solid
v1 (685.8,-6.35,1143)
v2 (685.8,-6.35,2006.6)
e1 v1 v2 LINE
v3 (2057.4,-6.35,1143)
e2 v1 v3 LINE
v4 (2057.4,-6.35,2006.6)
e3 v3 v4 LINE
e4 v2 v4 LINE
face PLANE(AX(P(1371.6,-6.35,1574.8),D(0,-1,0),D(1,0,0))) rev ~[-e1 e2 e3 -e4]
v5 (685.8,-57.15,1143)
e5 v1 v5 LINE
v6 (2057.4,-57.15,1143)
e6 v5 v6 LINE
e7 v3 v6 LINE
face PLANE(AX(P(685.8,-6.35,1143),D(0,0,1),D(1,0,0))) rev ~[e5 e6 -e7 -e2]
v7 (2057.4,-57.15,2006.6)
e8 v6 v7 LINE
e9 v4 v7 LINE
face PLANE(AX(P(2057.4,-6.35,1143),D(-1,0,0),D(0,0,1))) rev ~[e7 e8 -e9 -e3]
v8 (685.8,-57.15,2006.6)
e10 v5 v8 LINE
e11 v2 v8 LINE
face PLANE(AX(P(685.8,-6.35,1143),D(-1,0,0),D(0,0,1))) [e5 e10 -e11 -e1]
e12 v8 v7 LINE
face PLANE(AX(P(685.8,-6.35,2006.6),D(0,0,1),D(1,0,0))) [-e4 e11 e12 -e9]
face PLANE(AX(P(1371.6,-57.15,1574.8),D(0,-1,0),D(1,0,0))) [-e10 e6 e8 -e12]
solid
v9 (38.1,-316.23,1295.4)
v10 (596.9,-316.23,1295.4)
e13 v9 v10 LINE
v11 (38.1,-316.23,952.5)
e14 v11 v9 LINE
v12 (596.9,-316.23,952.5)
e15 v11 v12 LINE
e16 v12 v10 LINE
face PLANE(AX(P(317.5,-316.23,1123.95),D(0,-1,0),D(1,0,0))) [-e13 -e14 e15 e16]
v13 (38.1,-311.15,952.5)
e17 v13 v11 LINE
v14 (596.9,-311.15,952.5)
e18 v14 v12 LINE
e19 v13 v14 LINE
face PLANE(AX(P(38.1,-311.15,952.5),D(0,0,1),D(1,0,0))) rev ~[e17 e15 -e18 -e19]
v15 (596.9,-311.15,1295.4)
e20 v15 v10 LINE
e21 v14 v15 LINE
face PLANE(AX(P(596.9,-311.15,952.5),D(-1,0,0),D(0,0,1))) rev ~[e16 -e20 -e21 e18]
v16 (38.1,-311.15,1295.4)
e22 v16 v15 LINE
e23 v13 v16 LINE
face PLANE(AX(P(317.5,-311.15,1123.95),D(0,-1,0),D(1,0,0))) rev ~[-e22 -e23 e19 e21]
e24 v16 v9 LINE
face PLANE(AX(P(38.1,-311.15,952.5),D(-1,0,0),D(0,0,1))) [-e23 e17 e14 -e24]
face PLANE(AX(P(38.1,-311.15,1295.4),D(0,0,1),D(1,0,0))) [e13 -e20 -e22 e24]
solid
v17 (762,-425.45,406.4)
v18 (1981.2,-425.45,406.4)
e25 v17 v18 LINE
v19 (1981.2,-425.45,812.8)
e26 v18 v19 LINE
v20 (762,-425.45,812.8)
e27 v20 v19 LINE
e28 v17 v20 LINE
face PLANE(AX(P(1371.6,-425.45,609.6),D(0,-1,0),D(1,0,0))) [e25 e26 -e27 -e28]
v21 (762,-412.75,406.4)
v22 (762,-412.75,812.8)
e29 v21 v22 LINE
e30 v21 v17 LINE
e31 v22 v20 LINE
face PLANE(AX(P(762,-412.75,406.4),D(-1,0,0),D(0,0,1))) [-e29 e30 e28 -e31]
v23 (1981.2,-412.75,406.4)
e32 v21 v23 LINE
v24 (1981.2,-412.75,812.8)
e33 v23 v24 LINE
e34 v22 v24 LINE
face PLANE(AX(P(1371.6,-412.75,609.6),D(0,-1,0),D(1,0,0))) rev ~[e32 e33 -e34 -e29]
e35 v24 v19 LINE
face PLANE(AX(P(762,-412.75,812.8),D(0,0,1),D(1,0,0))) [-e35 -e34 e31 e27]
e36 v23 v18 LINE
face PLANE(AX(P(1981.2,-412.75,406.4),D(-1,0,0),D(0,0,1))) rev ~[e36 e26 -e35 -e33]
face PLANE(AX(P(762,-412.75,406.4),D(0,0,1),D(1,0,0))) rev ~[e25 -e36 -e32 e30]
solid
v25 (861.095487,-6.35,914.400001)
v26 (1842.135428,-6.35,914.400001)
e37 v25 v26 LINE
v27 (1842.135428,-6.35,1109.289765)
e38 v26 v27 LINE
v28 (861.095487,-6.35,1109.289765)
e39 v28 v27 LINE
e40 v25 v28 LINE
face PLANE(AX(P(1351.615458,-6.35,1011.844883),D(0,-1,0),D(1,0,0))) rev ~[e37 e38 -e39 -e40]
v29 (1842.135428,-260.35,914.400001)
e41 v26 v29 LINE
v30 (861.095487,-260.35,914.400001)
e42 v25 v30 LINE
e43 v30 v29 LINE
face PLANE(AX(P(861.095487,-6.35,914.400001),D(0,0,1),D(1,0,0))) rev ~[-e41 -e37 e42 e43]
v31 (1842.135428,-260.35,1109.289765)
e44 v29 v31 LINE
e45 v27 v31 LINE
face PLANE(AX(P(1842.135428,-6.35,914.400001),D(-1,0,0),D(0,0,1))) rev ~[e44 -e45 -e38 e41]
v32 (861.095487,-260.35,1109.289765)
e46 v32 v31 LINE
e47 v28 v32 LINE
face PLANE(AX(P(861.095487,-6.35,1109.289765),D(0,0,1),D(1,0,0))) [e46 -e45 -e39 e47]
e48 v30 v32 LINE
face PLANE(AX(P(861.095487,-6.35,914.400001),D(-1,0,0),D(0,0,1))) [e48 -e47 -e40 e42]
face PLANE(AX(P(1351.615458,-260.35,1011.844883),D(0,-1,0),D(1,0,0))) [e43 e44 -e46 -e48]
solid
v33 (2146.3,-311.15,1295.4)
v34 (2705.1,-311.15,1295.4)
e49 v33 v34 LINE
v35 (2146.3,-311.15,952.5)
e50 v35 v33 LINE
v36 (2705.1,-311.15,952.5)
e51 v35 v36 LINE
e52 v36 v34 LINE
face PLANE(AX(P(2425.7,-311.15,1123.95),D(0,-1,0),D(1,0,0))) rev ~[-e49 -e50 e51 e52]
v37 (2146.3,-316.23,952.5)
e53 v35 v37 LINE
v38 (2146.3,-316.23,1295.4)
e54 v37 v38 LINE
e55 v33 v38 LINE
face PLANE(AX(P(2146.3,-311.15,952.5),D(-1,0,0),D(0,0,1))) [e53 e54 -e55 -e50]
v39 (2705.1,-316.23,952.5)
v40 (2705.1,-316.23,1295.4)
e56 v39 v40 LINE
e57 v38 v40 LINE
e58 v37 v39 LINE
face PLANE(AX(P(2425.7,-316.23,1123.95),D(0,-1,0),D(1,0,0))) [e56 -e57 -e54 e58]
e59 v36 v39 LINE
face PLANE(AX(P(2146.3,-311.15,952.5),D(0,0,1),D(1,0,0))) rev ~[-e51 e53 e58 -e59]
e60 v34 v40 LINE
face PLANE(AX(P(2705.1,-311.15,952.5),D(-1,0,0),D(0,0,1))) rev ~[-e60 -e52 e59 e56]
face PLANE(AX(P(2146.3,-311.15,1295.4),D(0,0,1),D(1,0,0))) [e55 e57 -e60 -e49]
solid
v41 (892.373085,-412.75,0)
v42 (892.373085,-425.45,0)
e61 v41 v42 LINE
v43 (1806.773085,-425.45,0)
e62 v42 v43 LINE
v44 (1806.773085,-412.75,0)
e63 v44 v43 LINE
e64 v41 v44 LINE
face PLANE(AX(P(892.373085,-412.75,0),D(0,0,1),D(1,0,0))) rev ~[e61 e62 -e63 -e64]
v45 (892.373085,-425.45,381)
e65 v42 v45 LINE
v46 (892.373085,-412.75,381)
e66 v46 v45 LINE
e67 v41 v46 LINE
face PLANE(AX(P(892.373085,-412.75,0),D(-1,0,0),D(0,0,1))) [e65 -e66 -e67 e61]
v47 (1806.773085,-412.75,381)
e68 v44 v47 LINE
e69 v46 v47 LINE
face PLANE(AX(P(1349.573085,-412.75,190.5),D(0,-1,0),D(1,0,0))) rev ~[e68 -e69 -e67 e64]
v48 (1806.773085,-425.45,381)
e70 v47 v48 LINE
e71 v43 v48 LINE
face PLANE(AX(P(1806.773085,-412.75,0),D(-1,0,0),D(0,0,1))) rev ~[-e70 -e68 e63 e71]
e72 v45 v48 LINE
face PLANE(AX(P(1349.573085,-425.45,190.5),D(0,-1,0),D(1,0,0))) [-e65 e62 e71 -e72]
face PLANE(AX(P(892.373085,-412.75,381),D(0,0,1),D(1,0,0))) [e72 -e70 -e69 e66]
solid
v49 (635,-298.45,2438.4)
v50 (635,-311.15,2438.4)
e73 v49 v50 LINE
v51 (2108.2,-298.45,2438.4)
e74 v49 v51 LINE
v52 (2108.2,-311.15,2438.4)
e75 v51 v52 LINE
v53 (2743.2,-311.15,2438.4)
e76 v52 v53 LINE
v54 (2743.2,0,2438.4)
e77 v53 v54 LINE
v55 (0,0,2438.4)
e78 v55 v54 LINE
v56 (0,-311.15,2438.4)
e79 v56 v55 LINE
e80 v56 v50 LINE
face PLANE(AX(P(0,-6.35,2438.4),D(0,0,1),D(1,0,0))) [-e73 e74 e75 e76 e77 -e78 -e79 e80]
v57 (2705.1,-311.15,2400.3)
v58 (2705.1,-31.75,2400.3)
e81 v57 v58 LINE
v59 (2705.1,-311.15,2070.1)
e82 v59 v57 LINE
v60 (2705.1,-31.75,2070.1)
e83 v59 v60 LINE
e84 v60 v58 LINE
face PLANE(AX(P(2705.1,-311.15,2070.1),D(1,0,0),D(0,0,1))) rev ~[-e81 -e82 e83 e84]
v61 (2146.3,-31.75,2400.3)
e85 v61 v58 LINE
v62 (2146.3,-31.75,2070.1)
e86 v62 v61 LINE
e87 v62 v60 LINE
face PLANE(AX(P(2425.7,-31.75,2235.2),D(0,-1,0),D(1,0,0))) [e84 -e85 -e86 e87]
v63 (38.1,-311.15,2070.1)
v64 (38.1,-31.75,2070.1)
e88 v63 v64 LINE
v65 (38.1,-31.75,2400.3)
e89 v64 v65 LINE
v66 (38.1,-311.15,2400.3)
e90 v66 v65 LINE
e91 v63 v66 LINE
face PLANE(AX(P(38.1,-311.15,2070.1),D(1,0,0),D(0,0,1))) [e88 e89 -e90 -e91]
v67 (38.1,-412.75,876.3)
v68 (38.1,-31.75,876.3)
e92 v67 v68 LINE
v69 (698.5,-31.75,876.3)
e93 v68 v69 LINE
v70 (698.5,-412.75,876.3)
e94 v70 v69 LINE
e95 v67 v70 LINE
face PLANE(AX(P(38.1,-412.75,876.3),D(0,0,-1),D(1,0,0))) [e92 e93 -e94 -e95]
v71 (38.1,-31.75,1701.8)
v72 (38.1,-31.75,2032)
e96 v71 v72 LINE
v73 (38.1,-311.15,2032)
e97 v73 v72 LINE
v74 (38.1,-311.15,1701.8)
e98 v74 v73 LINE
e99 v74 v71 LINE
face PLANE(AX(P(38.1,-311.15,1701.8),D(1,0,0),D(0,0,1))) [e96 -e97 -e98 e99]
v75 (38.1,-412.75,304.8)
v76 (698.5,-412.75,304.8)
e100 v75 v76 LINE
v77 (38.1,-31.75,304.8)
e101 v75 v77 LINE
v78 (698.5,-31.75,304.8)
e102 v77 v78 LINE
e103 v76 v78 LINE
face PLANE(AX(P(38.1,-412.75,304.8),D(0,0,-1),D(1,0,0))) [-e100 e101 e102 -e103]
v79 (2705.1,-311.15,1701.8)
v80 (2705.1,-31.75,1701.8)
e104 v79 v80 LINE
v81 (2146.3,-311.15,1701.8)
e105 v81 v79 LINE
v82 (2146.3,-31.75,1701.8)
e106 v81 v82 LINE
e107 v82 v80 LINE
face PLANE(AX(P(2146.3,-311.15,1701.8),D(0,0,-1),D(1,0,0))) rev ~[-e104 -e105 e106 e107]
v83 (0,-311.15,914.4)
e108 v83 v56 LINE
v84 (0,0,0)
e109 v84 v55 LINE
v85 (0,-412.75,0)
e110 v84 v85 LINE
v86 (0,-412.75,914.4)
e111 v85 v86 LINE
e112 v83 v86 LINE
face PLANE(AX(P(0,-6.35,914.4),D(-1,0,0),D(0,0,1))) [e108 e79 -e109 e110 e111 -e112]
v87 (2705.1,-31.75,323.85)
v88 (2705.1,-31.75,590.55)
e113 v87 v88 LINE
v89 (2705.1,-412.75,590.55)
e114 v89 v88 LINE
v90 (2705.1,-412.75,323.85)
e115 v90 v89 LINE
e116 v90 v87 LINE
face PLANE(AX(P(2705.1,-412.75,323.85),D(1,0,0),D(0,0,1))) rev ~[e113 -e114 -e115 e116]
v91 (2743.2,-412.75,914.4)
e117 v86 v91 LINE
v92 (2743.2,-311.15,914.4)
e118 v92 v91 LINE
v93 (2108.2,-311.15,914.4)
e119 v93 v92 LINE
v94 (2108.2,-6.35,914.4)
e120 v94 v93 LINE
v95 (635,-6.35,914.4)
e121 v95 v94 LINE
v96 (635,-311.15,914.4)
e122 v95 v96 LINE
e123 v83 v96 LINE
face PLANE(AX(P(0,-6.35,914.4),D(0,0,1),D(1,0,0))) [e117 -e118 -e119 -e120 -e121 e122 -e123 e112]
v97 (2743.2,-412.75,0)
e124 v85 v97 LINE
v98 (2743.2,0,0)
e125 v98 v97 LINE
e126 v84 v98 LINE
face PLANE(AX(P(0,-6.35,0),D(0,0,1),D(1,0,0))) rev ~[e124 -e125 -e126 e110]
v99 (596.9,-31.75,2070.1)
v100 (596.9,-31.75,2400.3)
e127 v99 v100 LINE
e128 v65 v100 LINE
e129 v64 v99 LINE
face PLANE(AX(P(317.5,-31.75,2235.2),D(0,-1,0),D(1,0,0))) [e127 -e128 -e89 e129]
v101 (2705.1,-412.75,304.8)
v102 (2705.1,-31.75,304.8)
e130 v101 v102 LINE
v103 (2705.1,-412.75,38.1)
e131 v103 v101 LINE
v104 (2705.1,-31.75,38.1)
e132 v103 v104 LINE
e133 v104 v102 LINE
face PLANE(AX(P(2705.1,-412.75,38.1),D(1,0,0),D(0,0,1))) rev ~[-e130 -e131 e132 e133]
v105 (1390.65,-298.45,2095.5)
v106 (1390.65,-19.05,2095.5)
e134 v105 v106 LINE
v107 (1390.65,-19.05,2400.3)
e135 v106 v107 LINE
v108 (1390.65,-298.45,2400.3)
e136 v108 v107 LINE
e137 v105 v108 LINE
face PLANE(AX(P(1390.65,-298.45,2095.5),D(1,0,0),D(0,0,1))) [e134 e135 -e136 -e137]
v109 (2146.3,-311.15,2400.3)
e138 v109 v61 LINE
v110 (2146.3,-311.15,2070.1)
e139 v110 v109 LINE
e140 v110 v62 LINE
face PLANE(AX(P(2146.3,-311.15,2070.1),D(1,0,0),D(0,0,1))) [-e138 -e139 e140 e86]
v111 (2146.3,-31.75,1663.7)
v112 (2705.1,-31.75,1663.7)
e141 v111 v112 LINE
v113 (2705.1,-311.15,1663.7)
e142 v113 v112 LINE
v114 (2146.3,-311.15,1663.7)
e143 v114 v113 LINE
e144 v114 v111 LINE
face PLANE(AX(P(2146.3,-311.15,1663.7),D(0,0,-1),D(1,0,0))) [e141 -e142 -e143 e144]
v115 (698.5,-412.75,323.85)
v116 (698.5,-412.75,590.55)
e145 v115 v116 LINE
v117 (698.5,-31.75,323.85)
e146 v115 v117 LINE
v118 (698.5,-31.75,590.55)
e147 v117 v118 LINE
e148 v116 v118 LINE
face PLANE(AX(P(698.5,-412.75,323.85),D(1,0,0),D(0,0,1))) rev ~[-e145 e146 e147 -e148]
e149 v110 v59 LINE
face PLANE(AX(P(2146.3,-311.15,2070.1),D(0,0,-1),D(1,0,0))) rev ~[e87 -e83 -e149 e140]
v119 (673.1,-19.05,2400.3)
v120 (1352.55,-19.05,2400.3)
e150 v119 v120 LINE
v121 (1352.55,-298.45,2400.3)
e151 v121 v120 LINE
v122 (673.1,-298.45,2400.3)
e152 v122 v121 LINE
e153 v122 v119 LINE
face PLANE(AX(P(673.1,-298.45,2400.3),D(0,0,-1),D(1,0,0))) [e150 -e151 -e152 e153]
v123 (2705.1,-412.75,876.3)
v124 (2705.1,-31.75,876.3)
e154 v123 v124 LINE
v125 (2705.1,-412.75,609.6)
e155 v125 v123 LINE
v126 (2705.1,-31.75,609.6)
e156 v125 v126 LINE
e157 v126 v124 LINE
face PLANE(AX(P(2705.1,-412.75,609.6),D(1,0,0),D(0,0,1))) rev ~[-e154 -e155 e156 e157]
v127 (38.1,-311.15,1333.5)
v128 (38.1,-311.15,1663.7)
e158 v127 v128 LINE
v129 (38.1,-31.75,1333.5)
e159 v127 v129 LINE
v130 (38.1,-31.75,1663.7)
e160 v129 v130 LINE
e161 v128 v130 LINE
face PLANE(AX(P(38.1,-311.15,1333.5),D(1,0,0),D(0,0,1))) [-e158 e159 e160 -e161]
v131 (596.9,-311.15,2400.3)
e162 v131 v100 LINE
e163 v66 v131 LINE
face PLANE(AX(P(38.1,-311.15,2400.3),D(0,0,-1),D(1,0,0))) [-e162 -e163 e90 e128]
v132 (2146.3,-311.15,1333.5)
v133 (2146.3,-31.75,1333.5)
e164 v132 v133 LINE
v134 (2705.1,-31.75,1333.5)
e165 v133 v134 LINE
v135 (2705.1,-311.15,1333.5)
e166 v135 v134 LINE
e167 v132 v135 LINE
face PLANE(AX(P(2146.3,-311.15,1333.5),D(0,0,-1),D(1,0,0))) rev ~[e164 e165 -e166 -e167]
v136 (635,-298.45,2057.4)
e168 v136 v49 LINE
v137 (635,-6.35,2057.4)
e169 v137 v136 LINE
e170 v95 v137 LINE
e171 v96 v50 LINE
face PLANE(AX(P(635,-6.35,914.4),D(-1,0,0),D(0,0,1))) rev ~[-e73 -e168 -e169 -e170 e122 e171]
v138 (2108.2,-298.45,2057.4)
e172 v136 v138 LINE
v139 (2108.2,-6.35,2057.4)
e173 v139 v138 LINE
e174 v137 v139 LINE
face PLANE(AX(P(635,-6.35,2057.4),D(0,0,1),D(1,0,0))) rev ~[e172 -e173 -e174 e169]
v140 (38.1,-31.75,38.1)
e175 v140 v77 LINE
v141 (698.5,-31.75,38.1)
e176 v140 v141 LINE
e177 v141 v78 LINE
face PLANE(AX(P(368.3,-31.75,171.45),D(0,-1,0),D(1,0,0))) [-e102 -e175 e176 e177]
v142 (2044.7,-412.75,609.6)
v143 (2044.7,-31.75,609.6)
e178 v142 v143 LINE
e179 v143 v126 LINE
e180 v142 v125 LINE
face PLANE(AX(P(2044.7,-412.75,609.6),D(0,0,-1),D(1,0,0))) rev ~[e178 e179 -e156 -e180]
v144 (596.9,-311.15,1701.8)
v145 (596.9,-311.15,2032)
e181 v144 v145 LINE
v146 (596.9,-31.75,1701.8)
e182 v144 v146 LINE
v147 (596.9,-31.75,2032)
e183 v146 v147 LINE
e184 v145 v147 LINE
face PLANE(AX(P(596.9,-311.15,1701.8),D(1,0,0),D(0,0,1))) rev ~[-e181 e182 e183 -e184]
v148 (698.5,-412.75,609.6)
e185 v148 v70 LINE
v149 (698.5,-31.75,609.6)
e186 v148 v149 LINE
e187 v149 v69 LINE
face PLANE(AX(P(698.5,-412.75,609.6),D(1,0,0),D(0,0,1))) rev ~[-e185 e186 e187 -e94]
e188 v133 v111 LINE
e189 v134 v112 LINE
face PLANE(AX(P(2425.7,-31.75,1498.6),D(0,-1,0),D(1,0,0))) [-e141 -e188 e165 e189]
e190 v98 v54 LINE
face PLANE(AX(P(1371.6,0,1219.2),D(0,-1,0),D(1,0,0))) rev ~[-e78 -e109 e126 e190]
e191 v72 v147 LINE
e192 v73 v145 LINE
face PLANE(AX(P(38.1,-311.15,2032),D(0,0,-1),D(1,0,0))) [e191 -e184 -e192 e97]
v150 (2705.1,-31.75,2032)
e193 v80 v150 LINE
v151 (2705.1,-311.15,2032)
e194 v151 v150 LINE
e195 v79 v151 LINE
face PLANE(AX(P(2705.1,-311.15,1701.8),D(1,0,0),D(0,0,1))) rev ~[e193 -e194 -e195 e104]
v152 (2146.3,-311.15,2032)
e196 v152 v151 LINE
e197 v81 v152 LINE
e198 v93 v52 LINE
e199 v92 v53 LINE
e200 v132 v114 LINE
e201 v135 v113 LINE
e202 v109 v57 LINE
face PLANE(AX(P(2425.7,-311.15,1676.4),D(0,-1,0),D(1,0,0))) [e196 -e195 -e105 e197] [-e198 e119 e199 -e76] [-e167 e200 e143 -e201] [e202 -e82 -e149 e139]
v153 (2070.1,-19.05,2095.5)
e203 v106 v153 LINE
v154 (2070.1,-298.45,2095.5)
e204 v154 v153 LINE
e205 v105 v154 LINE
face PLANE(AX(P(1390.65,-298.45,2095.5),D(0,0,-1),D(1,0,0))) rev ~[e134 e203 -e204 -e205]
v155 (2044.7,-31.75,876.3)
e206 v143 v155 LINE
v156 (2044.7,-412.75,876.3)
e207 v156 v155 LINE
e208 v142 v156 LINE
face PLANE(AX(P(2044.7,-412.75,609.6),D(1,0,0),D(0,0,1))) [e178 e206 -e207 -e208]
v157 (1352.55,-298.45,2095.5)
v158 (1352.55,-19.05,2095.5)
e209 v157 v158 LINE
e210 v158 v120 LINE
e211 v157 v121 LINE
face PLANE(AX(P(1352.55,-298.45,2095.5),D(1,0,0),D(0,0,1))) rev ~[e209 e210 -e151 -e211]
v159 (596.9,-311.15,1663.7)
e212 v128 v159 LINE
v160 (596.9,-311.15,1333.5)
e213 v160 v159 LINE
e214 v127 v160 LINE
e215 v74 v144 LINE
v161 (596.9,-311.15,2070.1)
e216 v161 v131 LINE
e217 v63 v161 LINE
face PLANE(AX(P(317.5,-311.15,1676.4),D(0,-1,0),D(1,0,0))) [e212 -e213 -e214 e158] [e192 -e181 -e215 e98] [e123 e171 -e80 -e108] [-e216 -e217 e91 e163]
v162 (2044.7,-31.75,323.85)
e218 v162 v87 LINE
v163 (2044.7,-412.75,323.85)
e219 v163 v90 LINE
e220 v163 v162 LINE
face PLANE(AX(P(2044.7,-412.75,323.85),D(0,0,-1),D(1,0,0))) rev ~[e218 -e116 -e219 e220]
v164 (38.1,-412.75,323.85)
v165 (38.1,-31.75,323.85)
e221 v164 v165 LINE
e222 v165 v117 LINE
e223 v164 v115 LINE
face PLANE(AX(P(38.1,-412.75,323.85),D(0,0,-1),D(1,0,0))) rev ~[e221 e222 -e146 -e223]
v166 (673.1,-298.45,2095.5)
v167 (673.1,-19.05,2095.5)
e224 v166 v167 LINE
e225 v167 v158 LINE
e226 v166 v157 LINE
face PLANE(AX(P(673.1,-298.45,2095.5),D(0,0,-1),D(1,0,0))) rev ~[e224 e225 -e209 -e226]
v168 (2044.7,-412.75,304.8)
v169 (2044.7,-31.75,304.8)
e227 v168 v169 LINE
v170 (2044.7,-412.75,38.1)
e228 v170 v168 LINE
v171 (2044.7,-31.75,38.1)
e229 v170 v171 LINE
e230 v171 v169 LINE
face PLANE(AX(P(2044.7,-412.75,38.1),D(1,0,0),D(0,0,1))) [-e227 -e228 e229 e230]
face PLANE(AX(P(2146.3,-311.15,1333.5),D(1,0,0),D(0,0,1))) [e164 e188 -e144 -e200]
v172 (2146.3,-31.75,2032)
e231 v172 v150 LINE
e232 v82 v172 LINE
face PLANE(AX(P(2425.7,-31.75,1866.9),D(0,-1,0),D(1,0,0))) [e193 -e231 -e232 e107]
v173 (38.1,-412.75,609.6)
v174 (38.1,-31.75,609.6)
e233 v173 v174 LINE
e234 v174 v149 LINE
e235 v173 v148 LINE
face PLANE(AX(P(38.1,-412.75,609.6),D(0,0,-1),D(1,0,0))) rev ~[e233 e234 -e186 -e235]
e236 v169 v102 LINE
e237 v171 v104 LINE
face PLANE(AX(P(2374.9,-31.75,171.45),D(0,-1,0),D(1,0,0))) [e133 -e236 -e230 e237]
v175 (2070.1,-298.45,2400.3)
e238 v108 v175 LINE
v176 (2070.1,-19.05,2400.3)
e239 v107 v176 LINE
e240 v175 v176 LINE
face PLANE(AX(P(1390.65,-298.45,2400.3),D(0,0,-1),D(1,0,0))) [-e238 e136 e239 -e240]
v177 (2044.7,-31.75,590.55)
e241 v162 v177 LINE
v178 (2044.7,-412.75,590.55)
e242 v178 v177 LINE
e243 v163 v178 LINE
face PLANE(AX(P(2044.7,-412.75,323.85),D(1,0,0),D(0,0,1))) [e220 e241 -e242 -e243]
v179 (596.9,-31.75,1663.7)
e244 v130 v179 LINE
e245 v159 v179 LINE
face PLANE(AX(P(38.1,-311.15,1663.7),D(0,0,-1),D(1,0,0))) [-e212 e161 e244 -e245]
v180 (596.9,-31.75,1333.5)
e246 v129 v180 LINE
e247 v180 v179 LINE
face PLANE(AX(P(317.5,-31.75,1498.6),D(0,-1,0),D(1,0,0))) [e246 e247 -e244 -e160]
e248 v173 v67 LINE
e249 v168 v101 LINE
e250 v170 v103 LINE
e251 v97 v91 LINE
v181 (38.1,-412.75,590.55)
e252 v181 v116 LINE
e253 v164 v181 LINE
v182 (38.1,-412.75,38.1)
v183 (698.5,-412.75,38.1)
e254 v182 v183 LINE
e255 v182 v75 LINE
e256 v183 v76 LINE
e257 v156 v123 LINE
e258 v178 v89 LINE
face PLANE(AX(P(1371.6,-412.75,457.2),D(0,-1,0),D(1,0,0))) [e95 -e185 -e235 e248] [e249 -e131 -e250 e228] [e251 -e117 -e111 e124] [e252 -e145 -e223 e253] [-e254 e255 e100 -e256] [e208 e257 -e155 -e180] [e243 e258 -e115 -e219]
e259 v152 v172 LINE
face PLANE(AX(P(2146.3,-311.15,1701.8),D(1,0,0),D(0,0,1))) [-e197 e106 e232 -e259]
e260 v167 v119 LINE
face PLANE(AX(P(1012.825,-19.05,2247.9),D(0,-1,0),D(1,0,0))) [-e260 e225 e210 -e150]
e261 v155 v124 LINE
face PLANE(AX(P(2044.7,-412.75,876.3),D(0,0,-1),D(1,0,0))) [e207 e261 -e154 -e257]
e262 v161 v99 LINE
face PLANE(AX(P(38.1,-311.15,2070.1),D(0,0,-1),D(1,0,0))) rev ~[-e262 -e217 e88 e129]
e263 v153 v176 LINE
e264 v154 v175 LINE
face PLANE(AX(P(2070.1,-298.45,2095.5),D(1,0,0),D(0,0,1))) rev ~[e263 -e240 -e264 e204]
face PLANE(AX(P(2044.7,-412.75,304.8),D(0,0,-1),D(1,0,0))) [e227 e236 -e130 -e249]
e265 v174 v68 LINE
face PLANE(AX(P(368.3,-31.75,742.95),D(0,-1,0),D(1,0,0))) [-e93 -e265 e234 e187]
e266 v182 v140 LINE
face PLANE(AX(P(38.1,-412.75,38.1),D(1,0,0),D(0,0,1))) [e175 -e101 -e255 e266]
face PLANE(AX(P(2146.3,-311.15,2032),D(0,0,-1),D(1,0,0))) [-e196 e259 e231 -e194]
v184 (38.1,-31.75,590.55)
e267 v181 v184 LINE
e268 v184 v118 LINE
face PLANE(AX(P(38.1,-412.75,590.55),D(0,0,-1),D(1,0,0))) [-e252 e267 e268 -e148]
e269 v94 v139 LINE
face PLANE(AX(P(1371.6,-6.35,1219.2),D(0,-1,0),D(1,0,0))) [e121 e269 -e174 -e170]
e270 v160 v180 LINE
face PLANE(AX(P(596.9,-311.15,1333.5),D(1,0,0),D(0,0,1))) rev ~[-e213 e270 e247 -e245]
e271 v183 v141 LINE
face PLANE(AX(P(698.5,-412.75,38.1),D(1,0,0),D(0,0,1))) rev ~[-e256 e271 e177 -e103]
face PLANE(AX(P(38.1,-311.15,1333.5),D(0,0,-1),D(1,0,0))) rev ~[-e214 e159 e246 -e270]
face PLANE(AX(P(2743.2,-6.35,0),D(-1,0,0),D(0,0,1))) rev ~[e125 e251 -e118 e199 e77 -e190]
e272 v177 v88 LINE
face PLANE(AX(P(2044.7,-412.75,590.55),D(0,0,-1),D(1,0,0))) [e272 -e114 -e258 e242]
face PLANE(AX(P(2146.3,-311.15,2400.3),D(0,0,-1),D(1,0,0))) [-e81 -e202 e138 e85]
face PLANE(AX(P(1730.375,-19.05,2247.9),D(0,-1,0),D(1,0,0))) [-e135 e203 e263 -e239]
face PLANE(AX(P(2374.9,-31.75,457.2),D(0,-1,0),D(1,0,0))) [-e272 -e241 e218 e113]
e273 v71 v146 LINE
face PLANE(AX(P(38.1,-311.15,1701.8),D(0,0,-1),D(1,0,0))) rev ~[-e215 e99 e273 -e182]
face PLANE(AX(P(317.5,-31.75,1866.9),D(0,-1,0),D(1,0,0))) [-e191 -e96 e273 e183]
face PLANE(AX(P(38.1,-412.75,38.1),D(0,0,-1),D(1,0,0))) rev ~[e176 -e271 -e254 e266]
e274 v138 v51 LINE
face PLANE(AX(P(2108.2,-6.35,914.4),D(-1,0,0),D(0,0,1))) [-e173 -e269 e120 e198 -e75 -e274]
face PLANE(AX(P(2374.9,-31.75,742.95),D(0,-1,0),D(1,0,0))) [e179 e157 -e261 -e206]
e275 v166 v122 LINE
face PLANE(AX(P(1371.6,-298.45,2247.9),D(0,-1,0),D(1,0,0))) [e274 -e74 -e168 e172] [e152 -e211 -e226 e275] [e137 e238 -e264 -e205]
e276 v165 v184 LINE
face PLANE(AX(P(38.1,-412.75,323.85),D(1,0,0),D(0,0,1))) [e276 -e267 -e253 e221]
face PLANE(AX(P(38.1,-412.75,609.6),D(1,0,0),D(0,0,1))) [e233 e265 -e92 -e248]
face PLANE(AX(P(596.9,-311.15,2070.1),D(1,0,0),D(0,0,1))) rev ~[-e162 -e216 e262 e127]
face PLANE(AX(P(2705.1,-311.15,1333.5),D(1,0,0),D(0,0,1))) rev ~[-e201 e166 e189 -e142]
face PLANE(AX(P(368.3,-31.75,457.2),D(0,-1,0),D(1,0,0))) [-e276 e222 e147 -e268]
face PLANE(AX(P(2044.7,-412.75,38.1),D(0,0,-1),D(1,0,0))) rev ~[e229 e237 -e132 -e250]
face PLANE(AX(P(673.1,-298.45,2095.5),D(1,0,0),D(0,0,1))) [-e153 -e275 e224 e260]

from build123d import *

# Parameters (mm, degrees)
F0_W      = 2743.2
F0_H      = 2438.4
F1_DEPTH  = 6.35
F2_W      = 2743.2
F2_H      = 914.4
F3_DEPTH  = 406.4
F4_W      = 635
F4_H      = 1524
F5_DEPTH  = 304.8
F6_W      = 1473.2
F6_H      = 381
F7_DEPTH  = 292.1
F8_W      = 558.8
F8_H      = 330.2
F9_DEPTH  = 279.4
F10_W     = 679.45
F10_H     = 304.8
F11_DEPTH = 279.4
F12_W     = 1371.6
F12_H     = 863.6
F13_DEPTH = 50.8
F14_W     = 558.8
F14_H     = 342.9
F15_DEPTH = 5.08
F17_W     = 981.039941
F17_H     = 194.889765
F18_DEPTH = 254
F16_W     = 1219.2
F16_H     = 406.4
F19_DEPTH = 12.7
F20_W     = 914.4
F20_H     = 381
F21_DEPTH = 12.7
F22_W     = 660.4
F22_H     = 266.7
F23_DEPTH = 381


with BuildPart() as f1:
    # F0 (on Front) → F1 (new body)
    with BuildSketch(Plane.XZ):
        with Locations((1371.6, 1219.2)):
            Rectangle(F0_W, F0_H)
    extrude(amount=F1_DEPTH)

    # F2 (on face) → F3 (join)
    with BuildSketch(Plane.XZ.offset(6.35)):
        with Locations((1371.6, 457.2)):
            Rectangle(F2_W, F2_H)
    extrude(amount=F3_DEPTH)

    # F4 (on face) → F5 (join)
    with BuildSketch(Plane.XZ.offset(6.35)):
        with Locations((317.5, 1676.4)):
            Rectangle(F4_W, F4_H)
        with Locations((2425.7, 1676.4)):
            Rectangle(F4_W, F4_H)
    extrude(amount=F5_DEPTH)

    # F6 (on face) → F7 (join)
    with BuildSketch(Plane.XZ.offset(6.35)):
        with Locations((1371.6, 2247.9)):
            Rectangle(F6_W, F6_H)
    extrude(amount=F7_DEPTH)

    # F8 (on face) → F9 (cut)
    with BuildSketch(Plane.XZ.offset(311.15)):
        with Locations((317.5, 2235.2)):
            Rectangle(F8_W, F8_H)
        with Locations((317.5, 1866.9)):
            Rectangle(F8_W, F8_H)
        with Locations((317.5, 1498.6)):
            Rectangle(F8_W, F8_H)
        with Locations((2425.7, 1866.9)):
            Rectangle(F8_W, F8_H)
        with Locations((2425.7, 2235.2)):
            Rectangle(F8_W, F8_H)
        with Locations((2425.7, 1498.6)):
            Rectangle(F8_W, F8_H)
    extrude(amount=-F9_DEPTH, mode=Mode.SUBTRACT)

    # F10 (on face) → F11 (cut)
    with BuildSketch(Plane.XZ.offset(298.45)):
        with Locations((1012.825, 2247.9)):
            Rectangle(F10_W, F10_H)
        with Locations((1730.375, 2247.9)):
            Rectangle(F10_W, F10_H)
    extrude(amount=-F11_DEPTH, mode=Mode.SUBTRACT)

    # F22 (on face) → F23 (cut)
    with BuildSketch(Plane.XZ.offset(412.75)):
        with Locations((368.3, 171.45)):
            Rectangle(F22_W, F22_H)
        with Locations((368.3, 742.95)):
            Rectangle(F22_W, F22_H)
        with Locations((2374.9, 742.95)):
            Rectangle(F22_W, F22_H)
        with Locations((2374.9, 171.45)):
            Rectangle(F22_W, F22_H)
        with Locations((2374.9, 457.2)):
            Rectangle(F22_W, F22_H)
        with Locations((368.3, 457.2)):
            Rectangle(F22_W, F22_H)
    extrude(amount=-F23_DEPTH, mode=Mode.SUBTRACT)


with BuildPart() as f13:
    # F12 (on face) → F13 (new body)
    with BuildSketch(Plane.XZ.offset(6.35)):
        with Locations((1371.6, 1574.8)):
            Rectangle(F12_W, F12_H)
    extrude(amount=F13_DEPTH)


with BuildPart() as f15:
    # F14 (on face) → F15 (new body)
    with BuildSketch(Plane.XZ.offset(311.15)):
        with Locations((317.5, 1123.95)):
            Rectangle(F14_W, F14_H)
        with Locations((2425.7, 1123.95)):
            Rectangle(F14_W, F14_H)
    extrude(amount=F15_DEPTH)


with BuildPart() as f18:
    # F17 (on face) → F18 (new body)
    with BuildSketch(Plane.XZ.offset(6.35)):
        with Locations((1351.615458, 1011.844883)):
            Rectangle(F17_W, F17_H)
    extrude(amount=F18_DEPTH)


with BuildPart() as f19:
    # F16 (on face) → F19 (new body)
    with BuildSketch(Plane.XZ.offset(412.75)):
        with Locations((1371.6, 609.6)):
            Rectangle(F16_W, F16_H)
    extrude(amount=F19_DEPTH)


with BuildPart() as f21:
    # F20 (on face) → F21 (new body)
    with BuildSketch(Plane.XZ.offset(412.75)):
        with Locations((1349.573085, 190.5)):
            Rectangle(F20_W, F20_H)
    extrude(amount=F21_DEPTH)


solid = Compound([f1.part, f13.part, f15.part, f18.part, f19.part, f21.part])
